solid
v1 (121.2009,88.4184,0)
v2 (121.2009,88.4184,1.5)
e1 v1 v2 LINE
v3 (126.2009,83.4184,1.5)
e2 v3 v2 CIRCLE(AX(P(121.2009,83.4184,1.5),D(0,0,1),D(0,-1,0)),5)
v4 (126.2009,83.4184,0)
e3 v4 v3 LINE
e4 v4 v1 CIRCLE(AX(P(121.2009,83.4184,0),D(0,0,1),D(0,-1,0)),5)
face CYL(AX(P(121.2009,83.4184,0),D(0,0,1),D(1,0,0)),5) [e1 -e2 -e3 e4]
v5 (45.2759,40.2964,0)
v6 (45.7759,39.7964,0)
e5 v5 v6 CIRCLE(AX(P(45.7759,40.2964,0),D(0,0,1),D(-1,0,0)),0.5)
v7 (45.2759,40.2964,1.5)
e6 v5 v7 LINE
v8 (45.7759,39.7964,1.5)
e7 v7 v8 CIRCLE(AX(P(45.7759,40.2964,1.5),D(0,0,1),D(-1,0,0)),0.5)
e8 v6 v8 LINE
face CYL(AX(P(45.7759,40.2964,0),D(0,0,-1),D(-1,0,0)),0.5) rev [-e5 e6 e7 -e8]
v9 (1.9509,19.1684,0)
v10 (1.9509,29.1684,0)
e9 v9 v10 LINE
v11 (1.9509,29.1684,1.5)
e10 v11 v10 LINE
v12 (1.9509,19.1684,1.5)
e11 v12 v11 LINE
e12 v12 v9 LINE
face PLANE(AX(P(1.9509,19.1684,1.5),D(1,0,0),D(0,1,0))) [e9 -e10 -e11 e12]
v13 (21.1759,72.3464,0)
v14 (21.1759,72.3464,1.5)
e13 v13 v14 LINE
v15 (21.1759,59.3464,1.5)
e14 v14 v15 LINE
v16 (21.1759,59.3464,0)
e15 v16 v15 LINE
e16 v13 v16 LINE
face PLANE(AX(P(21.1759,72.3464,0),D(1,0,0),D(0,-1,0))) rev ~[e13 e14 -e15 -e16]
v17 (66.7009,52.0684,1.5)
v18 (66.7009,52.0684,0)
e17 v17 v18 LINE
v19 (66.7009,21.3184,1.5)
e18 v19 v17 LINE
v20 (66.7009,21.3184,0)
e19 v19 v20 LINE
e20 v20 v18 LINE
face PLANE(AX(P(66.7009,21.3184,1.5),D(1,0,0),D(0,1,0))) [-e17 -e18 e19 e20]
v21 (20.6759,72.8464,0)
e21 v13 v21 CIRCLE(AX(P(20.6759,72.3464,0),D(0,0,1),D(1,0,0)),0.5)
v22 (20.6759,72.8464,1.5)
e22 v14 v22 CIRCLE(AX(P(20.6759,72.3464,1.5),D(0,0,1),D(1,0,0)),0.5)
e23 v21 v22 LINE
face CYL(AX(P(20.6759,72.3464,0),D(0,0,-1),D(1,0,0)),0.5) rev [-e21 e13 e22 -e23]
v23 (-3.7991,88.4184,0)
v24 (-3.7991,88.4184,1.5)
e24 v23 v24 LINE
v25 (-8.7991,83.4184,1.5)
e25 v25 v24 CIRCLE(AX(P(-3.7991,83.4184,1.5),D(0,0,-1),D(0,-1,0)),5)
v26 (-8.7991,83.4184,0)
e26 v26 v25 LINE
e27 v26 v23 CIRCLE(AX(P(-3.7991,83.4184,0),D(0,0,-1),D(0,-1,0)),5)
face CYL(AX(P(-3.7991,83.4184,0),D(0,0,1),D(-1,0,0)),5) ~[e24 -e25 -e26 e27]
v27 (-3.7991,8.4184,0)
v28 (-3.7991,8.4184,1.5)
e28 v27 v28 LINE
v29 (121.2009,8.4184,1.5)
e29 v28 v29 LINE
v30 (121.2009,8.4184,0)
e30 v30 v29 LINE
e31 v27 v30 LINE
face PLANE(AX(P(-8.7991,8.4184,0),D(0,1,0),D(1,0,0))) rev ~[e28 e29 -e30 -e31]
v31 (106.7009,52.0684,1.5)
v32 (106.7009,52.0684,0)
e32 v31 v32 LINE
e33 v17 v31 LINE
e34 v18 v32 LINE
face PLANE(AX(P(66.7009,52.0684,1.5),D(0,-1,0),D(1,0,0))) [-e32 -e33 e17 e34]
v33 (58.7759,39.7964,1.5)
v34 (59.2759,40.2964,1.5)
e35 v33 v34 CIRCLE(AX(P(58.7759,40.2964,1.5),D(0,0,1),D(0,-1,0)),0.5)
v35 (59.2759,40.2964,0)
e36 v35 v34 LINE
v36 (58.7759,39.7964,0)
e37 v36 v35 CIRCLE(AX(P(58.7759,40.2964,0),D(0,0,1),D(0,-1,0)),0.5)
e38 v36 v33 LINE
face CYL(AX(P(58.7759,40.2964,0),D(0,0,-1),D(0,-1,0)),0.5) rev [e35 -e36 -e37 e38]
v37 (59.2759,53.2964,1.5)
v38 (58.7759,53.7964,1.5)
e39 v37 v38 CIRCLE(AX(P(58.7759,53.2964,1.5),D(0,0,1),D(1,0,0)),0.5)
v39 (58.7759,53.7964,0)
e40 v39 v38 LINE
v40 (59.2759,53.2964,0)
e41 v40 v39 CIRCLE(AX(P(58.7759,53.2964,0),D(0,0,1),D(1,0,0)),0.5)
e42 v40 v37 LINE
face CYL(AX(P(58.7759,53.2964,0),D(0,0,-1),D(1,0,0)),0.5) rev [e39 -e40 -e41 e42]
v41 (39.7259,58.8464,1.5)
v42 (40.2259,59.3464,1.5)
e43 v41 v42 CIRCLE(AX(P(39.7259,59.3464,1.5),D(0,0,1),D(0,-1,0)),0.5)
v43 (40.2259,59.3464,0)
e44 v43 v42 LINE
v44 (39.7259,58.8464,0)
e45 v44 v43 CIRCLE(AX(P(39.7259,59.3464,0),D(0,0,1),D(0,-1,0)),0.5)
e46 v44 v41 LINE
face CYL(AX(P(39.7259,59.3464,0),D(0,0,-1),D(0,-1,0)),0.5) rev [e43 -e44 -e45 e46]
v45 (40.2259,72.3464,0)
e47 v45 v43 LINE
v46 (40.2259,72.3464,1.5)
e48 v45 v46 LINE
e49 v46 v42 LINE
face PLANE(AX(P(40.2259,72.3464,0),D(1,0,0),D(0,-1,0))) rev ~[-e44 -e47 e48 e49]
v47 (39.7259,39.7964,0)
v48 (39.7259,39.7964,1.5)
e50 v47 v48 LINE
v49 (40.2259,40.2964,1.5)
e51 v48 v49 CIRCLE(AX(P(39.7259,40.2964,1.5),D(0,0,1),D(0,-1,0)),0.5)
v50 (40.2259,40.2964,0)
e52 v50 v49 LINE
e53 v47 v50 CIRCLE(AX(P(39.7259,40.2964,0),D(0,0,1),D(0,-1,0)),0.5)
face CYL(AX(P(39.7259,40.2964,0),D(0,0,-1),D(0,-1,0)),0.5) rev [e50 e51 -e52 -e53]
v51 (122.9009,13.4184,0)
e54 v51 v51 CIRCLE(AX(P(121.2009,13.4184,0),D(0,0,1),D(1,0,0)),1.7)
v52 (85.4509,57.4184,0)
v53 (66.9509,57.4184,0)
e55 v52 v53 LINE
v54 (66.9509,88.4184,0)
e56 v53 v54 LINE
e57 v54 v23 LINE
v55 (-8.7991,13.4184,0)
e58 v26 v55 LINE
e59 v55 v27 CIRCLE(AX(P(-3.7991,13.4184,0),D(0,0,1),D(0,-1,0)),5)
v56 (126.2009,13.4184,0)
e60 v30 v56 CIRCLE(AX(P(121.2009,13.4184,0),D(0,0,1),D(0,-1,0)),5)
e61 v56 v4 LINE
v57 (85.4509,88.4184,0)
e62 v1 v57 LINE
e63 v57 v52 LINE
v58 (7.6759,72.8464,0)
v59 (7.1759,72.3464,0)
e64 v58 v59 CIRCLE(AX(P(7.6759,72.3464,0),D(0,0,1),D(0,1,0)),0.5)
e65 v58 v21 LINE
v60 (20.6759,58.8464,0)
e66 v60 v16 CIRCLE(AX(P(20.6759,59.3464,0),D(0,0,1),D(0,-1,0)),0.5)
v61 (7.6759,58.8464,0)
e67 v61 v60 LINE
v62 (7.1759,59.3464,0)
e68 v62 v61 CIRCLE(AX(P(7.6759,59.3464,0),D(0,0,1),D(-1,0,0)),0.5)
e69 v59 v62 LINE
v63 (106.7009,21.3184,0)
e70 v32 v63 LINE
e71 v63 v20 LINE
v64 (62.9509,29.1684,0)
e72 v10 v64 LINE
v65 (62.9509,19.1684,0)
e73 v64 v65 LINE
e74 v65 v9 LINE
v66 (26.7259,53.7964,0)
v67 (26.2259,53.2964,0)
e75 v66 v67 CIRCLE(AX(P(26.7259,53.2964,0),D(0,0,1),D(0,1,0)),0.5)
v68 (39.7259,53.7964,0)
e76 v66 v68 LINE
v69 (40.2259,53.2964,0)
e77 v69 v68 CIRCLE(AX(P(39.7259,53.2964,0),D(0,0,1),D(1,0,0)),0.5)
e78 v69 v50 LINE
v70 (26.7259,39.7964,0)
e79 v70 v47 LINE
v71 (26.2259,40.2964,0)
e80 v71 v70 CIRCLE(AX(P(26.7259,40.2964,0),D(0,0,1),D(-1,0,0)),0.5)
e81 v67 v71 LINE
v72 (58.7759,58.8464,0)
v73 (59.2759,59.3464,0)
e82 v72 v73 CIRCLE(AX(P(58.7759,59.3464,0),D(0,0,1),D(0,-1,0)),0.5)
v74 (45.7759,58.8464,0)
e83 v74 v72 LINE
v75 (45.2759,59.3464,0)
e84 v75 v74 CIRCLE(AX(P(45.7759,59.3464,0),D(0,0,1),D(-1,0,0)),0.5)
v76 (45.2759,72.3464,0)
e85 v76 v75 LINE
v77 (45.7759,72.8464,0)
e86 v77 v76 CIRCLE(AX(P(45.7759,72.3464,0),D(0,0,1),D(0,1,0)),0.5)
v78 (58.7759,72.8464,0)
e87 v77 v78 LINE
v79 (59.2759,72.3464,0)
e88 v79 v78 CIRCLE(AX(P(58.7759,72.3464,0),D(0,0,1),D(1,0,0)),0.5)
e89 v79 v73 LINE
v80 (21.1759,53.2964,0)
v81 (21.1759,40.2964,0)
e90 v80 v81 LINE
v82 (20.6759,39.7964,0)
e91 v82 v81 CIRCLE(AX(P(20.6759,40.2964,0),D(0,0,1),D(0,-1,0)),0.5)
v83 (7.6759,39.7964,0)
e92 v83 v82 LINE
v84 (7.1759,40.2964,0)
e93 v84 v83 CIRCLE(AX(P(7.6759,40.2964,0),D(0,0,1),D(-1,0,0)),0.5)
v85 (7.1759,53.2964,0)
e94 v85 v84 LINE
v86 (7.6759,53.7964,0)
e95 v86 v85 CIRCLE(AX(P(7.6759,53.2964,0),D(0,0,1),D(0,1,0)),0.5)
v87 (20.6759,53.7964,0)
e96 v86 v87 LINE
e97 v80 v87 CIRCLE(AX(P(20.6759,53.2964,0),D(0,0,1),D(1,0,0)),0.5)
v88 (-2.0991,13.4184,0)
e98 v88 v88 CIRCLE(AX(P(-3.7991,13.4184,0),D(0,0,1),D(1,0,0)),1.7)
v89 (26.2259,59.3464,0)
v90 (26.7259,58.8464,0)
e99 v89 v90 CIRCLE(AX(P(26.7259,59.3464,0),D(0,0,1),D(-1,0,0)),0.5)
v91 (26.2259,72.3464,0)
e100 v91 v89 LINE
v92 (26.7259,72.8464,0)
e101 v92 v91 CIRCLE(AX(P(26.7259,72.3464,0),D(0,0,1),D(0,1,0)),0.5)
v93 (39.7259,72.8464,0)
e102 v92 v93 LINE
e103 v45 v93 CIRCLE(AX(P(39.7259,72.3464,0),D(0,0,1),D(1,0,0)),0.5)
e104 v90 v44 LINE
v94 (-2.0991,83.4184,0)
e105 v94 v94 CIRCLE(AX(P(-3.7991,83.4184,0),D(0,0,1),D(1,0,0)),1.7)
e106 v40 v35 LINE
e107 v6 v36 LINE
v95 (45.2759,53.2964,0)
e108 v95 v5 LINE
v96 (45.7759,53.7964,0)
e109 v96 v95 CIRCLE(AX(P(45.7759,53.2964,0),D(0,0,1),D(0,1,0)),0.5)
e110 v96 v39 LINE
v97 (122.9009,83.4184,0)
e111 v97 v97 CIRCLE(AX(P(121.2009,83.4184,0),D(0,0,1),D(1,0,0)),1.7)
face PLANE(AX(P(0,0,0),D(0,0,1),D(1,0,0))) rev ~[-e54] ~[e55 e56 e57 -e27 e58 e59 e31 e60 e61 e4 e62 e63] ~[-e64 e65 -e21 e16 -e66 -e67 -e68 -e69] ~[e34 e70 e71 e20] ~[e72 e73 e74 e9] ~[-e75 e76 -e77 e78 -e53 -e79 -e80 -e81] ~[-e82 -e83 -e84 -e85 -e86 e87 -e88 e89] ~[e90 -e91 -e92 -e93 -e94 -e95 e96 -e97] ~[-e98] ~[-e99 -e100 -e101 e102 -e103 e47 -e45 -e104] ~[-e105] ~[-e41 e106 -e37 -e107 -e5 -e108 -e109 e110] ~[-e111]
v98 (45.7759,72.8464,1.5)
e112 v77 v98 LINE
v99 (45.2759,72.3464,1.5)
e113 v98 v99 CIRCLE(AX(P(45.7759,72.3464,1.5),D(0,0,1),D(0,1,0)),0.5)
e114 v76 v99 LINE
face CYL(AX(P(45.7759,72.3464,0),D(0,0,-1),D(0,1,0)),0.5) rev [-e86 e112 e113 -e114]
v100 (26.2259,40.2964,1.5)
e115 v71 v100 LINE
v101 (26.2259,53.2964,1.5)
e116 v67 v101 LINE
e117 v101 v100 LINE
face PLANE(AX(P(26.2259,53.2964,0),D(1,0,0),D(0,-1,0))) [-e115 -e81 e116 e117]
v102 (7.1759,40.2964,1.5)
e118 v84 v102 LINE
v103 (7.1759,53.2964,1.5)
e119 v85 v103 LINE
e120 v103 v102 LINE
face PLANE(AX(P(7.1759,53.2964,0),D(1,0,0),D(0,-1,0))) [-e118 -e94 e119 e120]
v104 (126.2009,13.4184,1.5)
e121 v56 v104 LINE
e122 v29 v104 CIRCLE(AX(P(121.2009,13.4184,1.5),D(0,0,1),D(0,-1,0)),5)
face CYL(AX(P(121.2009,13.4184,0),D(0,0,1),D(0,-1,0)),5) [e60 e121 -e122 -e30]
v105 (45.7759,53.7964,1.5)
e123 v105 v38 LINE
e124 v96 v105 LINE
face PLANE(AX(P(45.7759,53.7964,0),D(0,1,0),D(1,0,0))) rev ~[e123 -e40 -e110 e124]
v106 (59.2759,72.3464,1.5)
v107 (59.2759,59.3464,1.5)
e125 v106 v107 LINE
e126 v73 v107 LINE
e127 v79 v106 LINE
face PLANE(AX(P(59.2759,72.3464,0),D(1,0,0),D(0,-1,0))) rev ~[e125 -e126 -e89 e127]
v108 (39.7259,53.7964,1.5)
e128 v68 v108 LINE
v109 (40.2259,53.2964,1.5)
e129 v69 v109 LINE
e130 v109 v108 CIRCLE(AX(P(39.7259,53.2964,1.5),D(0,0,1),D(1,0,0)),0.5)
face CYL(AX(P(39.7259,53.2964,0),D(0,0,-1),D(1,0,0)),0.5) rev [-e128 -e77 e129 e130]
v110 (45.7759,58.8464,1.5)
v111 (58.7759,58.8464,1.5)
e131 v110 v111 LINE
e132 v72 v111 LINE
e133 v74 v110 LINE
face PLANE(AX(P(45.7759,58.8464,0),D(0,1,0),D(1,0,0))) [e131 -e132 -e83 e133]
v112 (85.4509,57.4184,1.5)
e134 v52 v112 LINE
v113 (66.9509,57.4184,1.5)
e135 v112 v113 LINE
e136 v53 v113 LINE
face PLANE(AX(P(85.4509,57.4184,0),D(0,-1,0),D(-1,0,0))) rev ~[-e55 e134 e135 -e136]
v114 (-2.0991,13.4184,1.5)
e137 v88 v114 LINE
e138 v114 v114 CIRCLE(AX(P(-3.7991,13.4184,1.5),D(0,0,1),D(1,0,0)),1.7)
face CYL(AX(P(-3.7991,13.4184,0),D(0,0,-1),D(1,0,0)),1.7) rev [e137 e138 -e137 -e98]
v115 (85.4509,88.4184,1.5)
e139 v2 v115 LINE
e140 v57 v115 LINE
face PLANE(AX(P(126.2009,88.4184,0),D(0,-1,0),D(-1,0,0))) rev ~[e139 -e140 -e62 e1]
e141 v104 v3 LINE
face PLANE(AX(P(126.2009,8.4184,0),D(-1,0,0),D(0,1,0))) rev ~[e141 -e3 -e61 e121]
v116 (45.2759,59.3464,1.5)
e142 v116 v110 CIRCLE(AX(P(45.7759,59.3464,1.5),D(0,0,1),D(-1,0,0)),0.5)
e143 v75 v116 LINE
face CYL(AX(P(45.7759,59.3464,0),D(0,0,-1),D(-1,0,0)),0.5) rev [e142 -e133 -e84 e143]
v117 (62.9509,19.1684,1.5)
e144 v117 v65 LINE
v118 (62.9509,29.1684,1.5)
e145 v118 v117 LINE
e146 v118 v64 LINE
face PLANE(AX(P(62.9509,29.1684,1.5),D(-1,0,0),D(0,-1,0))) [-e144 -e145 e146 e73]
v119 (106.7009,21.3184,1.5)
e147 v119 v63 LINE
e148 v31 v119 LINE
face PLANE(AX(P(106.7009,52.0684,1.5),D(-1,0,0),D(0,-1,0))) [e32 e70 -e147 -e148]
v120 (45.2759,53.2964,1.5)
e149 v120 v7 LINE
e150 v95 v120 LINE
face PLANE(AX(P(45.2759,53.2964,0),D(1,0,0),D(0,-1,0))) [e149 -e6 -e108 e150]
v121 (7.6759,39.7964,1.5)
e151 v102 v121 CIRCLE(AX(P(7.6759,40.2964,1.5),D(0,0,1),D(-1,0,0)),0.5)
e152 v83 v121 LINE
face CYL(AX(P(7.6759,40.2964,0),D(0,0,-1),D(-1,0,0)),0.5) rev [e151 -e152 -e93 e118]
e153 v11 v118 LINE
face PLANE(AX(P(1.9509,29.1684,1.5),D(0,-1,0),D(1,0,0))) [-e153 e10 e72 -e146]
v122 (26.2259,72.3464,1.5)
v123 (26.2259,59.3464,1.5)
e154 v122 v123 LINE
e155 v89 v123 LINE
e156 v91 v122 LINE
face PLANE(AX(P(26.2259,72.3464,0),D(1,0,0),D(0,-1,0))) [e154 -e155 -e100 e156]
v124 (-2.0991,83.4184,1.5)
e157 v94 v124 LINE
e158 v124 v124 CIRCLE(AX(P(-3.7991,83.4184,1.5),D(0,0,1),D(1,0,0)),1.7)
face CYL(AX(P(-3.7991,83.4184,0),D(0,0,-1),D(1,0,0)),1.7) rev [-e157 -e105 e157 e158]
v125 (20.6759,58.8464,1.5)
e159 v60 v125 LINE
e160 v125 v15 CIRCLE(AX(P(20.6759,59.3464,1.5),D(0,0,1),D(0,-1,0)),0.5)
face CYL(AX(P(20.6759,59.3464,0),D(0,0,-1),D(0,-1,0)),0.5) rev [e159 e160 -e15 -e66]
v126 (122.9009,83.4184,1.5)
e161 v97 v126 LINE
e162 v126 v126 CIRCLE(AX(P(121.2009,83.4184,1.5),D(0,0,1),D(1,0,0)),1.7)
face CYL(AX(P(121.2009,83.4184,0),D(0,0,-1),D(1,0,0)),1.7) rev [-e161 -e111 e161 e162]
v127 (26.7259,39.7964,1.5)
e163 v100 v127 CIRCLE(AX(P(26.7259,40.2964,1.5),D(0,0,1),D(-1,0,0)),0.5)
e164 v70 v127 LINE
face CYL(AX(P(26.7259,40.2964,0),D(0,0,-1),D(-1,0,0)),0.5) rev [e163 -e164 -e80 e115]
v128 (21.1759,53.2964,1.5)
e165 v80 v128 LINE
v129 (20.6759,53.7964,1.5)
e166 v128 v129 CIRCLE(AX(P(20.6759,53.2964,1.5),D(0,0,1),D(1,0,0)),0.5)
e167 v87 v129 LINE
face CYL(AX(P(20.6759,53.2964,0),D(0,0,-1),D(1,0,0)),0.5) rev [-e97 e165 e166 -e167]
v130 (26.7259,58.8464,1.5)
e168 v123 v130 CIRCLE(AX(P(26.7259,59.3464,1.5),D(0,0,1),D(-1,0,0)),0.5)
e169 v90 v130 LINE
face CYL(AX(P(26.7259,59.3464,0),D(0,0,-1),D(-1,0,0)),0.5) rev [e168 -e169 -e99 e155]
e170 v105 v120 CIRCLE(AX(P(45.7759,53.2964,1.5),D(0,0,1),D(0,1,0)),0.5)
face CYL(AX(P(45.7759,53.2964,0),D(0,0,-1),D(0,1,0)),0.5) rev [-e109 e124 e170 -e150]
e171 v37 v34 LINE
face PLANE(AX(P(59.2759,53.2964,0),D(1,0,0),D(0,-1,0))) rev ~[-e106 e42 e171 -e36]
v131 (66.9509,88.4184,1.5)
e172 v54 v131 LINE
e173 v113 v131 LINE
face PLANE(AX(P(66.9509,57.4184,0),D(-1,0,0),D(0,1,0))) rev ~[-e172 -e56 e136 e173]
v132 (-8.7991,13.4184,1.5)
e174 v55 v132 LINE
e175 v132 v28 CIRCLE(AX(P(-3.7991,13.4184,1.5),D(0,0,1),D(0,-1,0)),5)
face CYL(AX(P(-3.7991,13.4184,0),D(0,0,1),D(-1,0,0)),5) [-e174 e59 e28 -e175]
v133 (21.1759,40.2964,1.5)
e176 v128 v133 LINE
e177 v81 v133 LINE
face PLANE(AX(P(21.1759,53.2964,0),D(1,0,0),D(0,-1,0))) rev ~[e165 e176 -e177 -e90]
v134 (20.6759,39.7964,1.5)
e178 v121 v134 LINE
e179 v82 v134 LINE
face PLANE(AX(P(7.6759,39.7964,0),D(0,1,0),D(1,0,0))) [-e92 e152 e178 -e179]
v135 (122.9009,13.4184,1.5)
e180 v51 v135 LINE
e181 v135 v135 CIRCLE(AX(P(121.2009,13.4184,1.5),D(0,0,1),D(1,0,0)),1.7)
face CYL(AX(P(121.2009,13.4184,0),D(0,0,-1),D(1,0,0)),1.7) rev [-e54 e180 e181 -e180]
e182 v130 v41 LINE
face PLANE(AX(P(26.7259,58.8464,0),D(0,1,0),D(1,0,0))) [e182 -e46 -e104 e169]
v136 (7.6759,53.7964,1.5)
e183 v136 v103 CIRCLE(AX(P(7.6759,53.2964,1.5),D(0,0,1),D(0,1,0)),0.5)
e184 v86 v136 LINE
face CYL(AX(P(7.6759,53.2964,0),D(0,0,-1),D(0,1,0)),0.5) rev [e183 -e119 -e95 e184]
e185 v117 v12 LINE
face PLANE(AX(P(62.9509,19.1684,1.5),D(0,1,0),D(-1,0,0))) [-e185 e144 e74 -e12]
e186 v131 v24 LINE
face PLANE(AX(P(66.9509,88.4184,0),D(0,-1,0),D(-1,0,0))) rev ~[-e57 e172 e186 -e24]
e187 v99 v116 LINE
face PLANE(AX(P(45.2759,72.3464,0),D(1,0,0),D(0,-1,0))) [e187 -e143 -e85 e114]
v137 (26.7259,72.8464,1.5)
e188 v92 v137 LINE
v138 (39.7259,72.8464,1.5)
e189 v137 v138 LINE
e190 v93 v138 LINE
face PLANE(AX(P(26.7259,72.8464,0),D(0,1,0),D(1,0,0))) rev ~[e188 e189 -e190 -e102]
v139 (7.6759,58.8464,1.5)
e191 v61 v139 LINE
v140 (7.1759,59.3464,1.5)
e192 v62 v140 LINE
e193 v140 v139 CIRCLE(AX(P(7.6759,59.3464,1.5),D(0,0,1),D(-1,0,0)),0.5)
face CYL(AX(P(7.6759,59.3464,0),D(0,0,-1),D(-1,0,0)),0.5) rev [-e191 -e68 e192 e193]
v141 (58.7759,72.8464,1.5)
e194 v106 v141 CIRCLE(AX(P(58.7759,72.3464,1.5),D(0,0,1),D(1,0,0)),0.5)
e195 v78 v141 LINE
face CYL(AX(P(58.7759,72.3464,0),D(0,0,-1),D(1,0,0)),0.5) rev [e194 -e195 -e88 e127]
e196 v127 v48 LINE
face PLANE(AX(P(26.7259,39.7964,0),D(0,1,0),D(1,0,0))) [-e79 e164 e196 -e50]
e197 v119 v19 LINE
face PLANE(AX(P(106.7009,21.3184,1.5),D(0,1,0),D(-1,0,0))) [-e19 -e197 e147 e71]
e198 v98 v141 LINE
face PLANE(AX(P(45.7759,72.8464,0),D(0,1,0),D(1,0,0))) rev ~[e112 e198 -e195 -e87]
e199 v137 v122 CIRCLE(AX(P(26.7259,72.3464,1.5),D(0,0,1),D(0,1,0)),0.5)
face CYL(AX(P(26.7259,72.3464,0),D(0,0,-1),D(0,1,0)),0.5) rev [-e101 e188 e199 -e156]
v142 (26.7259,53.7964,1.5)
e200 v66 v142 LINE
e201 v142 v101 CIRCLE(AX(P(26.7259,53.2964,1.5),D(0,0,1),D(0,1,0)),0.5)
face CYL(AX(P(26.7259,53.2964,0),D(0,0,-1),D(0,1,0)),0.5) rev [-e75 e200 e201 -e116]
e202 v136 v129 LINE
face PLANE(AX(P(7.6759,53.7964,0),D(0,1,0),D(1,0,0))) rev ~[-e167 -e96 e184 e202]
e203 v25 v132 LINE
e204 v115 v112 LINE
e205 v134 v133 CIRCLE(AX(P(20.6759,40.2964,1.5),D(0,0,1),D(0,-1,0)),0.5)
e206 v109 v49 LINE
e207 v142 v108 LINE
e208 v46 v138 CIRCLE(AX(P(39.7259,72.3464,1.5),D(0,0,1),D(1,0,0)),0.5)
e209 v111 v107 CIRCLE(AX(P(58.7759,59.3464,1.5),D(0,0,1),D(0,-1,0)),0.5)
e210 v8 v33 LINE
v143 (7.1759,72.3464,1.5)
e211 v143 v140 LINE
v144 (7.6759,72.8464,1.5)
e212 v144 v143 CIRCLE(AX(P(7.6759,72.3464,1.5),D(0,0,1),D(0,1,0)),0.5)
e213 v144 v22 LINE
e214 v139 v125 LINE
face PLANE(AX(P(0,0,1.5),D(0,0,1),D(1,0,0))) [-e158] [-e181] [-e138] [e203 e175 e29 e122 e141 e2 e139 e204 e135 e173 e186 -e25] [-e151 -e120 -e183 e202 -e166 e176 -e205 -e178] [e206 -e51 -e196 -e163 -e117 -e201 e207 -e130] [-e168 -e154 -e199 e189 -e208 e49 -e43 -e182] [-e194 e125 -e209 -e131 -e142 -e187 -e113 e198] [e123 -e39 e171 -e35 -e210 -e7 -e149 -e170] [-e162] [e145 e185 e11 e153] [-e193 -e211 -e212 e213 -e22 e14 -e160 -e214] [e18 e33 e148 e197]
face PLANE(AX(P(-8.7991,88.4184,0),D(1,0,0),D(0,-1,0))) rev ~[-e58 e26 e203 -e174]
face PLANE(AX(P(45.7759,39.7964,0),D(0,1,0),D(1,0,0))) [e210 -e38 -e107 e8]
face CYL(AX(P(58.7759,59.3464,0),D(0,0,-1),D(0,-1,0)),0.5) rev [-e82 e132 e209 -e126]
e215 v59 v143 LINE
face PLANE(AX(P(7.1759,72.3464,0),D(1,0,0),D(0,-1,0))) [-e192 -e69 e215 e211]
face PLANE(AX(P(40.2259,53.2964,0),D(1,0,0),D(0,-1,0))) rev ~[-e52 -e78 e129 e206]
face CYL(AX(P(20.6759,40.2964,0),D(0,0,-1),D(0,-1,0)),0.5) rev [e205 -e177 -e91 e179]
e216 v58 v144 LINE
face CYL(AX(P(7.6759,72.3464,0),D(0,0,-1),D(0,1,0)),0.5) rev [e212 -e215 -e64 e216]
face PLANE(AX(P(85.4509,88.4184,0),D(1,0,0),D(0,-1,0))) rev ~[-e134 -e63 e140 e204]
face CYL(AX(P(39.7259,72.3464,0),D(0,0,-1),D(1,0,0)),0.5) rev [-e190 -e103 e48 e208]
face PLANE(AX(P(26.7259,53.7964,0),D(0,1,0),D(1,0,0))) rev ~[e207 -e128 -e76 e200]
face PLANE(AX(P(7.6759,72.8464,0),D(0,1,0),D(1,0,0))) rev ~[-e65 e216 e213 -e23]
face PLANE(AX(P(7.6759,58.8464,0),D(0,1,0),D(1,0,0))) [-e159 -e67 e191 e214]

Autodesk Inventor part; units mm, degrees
ref_plane "YZ Plane" through (0, 0, 0) normal (1, 0, 0) x (0, 1, 0)
ref_plane "XZ Plane" through (0, 0, 0) normal (0, 1, 0) x (-1, 0, 0)
ref_plane "XY Plane" through (0, 0, 0) normal (0, 0, 1) x (1, 0, 0)
sketch "Sketch1" plane through (0, 0, 0) normal (0, 0, 1) x (1, 0, 0)
  point P0 (0, 0)
sketch "0" plane through (0, 0, 0) normal (0, 0, 1) x (1, 0, 0)
  line L0 (7.6759, 72.8464) -> (20.6759, 72.8464)
  line L1 (7.6759, 58.8464) -> (20.6759, 58.8464)
  line L2 (7.1759, 72.3464) -> (7.1759, 59.3464)
  line L3 (21.1759, 72.3464) -> (21.1759, 59.3464)
  arc A0 (7.6759, 72.8464) -> (7.1759, 72.3464) centre (7.6759, 72.3464) ccw
  arc A1 (21.1759, 72.3464) -> (20.6759, 72.8464) centre (20.6759, 72.3464) ccw
  arc A2 (7.1759, 59.3464) -> (7.6759, 58.8464) centre (7.6759, 59.3464) ccw
  arc A3 (20.6759, 58.8464) -> (21.1759, 59.3464) centre (20.6759, 59.3464) ccw
  line L4 (26.7259, 72.8464) -> (39.7259, 72.8464)
  line L5 (26.7259, 58.8464) -> (39.7259, 58.8464)
  line L6 (26.2259, 72.3464) -> (26.2259, 59.3464)
  line L7 (40.2259, 72.3464) -> (40.2259, 59.3464)
  arc A4 (26.7259, 72.8464) -> (26.2259, 72.3464) centre (26.7259, 72.3464) ccw
  arc A5 (40.2259, 72.3464) -> (39.7259, 72.8464) centre (39.7259, 72.3464) ccw
  arc A6 (26.2259, 59.3464) -> (26.7259, 58.8464) centre (26.7259, 59.3464) ccw
  arc A7 (39.7259, 58.8464) -> (40.2259, 59.3464) centre (39.7259, 59.3464) ccw
  line L8 (45.7759, 72.8464) -> (58.7759, 72.8464)
  line L9 (45.7759, 58.8464) -> (58.7759, 58.8464)
  line L10 (45.2759, 72.3464) -> (45.2759, 59.3464)
  line L11 (59.2759, 72.3464) -> (59.2759, 59.3464)
  arc A8 (45.7759, 72.8464) -> (45.2759, 72.3464) centre (45.7759, 72.3464) ccw
  arc A9 (59.2759, 72.3464) -> (58.7759, 72.8464) centre (58.7759, 72.3464) ccw
  arc A10 (45.2759, 59.3464) -> (45.7759, 58.8464) centre (45.7759, 59.3464) ccw
  arc A11 (58.7759, 58.8464) -> (59.2759, 59.3464) centre (58.7759, 59.3464) ccw
  line L12 (7.6759, 53.7964) -> (20.6759, 53.7964)
  line L13 (7.6759, 39.7964) -> (20.6759, 39.7964)
  line L14 (7.1759, 53.2964) -> (7.1759, 40.2964)
  line L15 (21.1759, 53.2964) -> (21.1759, 40.2964)
  arc A12 (7.6759, 53.7964) -> (7.1759, 53.2964) centre (7.6759, 53.2964) ccw
  arc A13 (21.1759, 53.2964) -> (20.6759, 53.7964) centre (20.6759, 53.2964) ccw
  arc A14 (7.1759, 40.2964) -> (7.6759, 39.7964) centre (7.6759, 40.2964) ccw
  arc A15 (20.6759, 39.7964) -> (21.1759, 40.2964) centre (20.6759, 40.2964) ccw
  line L16 (26.7259, 53.7964) -> (39.7259, 53.7964)
  line L17 (26.7259, 39.7964) -> (39.7259, 39.7964)
  line L18 (26.2259, 53.2964) -> (26.2259, 40.2964)
  line L19 (40.2259, 53.2964) -> (40.2259, 40.2964)
  arc A16 (26.7259, 53.7964) -> (26.2259, 53.2964) centre (26.7259, 53.2964) ccw
  arc A17 (40.2259, 53.2964) -> (39.7259, 53.7964) centre (39.7259, 53.2964) ccw
  arc A18 (26.2259, 40.2964) -> (26.7259, 39.7964) centre (26.7259, 40.2964) ccw
  arc A19 (39.7259, 39.7964) -> (40.2259, 40.2964) centre (39.7259, 40.2964) ccw
  line L20 (45.7759, 53.7964) -> (58.7759, 53.7964)
  line L21 (45.7759, 39.7964) -> (58.7759, 39.7964)
  line L22 (45.2759, 53.2964) -> (45.2759, 40.2964)
  line L23 (59.2759, 53.2964) -> (59.2759, 40.2964)
  arc A20 (45.7759, 53.7964) -> (45.2759, 53.2964) centre (45.7759, 53.2964) ccw
  arc A21 (59.2759, 53.2964) -> (58.7759, 53.7964) centre (58.7759, 53.2964) ccw
  arc A22 (45.2759, 40.2964) -> (45.7759, 39.7964) centre (45.7759, 40.2964) ccw
  arc A23 (58.7759, 39.7964) -> (59.2759, 40.2964) centre (58.7759, 40.2964) ccw
  line L24 (-8.7991, 8.4184) -> (126.2009, 8.4184)
  line L25 (126.2009, 8.4184) -> (126.2009, 88.4184)
  line L26 (126.2009, 88.4184) -> (-8.7991, 88.4184)
  line L27 (-8.7991, 88.4184) -> (-8.7991, 8.4184)
  line L28 (66.9509, 88.4184) -> (85.4509, 88.4184)
  line L29 (85.4509, 88.4184) -> (85.4509, 57.4184)
  line L30 (85.4509, 57.4184) -> (66.9509, 57.4184)
  line L31 (66.9509, 57.4184) -> (66.9509, 88.4184)
  circle A24 centre (-3.7991, 83.4184) radius 1.7
  circle A25 centre (121.2009, 83.4184) radius 1.7
  circle A26 centre (121.2009, 13.4184) radius 1.7
  circle A27 centre (-3.7991, 13.4184) radius 1.7
  dimension "d2" = 135
  dimension "d3" = 80
  dimension "d4" = 15.975
  dimension "d5" = 15.572
  dimension "d6" = 18.5
  dimension "d7" = 31
  dimension "d8" = 75.75
  dimension "d9" = 3.4
  dimension "d10" = 3.4
  dimension "d11" = 3.4
  dimension "d12" = 3.4
  dimension "d13" = 5
  dimension "d14" = 5
  dimension "d15" = 5
  dimension "d16" = 5
  dimension "d17" = 5
  dimension "d18" = 5
  dimension "d19" = 5
  dimension "d20" = 5
extrude "Extrusion1" add sketch "0" along normal blind 1.5 contours L27 L26 L31 L30 L29 L25 L24
sketch "Sketch4" plane through (0, 0, 1.5) normal (0, 0, 1) x (1, 0, 0)
  line L0 (0.7009, 78.9184) -> (116.7009, 78.9184)
  line L1 (116.7009, 78.9184) -> (116.7009, 17.9184)
  line L2 (116.7009, 17.9184) -> (0.7009, 17.9184)
  line L3 (0.7009, 17.9184) -> (0.7009, 78.9184)
  line L4 (66.9509, 88.4184) -> (-8.7991, 88.4184) projected
  line L5 (126.2009, 8.4184) -> (126.2009, 88.4184) projected
  line L6 (-8.7991, 8.4184) -> (126.2009, 8.4184) projected
  line L7 (-8.7991, 88.4184) -> (-8.7991, 8.4184) projected
  line L8 (66.7009, 52.0684) -> (106.7009, 52.0684)
  line L9 (106.7009, 52.0684) -> (106.7009, 21.3184)
  line L10 (106.7009, 21.3184) -> (66.7009, 21.3184)
  line L11 (66.7009, 21.3184) -> (66.7009, 52.0684)
  line L12 (85.4509, 57.4184) -> (66.9509, 57.4184) projected
  point P0 (0, 0)
  dimension "d23" = 9.5
  dimension "d24" = 9.5
  dimension "d25" = 9.5
  dimension "d26" = 9.5
  dimension "d27" = 5.35
  dimension "d28" = 30.75
  dimension "d29" = 40
  dimension "d30" = 10
extrude "Extrusion2" cut sketch "Sketch4" against normal blind 1.5 contours L8 L9 L10 L11
sketch "Sketch5" plane through (0, 0, 1.5) normal (0, 0, 1) x (1, 0, 0)
  line L0 (1.9509, 29.1684) -> (62.9509, 29.1684)
  line L1 (62.9509, 29.1684) -> (62.9509, 19.1684)
  line L2 (62.9509, 19.1684) -> (1.9509, 19.1684)
  line L3 (1.9509, 19.1684) -> (1.9509, 29.1684)
  line L4 (-8.7991, 8.4184) -> (126.2009, 8.4184) projected
  line L5 (-8.7991, 88.4184) -> (-8.7991, 8.4184) projected
  point P0 (0, 0)
  dimension "d33" = 61
  dimension "d34" = 10
  dimension "d35" = 10.75
  dimension "d36" = 10.75
extrude "Extrusion3" cut sketch "Sketch5" against normal blind 1.5
fillet "Fillet1" radius 5 4 edges at (-8.7991, 8.4184, 0.75) (-8.7991, 88.4184, 0.75) (126.2009, 88.4184, 0.75) (126.2009, 8.4184, 0.75)
properties part number "Top_Case"
